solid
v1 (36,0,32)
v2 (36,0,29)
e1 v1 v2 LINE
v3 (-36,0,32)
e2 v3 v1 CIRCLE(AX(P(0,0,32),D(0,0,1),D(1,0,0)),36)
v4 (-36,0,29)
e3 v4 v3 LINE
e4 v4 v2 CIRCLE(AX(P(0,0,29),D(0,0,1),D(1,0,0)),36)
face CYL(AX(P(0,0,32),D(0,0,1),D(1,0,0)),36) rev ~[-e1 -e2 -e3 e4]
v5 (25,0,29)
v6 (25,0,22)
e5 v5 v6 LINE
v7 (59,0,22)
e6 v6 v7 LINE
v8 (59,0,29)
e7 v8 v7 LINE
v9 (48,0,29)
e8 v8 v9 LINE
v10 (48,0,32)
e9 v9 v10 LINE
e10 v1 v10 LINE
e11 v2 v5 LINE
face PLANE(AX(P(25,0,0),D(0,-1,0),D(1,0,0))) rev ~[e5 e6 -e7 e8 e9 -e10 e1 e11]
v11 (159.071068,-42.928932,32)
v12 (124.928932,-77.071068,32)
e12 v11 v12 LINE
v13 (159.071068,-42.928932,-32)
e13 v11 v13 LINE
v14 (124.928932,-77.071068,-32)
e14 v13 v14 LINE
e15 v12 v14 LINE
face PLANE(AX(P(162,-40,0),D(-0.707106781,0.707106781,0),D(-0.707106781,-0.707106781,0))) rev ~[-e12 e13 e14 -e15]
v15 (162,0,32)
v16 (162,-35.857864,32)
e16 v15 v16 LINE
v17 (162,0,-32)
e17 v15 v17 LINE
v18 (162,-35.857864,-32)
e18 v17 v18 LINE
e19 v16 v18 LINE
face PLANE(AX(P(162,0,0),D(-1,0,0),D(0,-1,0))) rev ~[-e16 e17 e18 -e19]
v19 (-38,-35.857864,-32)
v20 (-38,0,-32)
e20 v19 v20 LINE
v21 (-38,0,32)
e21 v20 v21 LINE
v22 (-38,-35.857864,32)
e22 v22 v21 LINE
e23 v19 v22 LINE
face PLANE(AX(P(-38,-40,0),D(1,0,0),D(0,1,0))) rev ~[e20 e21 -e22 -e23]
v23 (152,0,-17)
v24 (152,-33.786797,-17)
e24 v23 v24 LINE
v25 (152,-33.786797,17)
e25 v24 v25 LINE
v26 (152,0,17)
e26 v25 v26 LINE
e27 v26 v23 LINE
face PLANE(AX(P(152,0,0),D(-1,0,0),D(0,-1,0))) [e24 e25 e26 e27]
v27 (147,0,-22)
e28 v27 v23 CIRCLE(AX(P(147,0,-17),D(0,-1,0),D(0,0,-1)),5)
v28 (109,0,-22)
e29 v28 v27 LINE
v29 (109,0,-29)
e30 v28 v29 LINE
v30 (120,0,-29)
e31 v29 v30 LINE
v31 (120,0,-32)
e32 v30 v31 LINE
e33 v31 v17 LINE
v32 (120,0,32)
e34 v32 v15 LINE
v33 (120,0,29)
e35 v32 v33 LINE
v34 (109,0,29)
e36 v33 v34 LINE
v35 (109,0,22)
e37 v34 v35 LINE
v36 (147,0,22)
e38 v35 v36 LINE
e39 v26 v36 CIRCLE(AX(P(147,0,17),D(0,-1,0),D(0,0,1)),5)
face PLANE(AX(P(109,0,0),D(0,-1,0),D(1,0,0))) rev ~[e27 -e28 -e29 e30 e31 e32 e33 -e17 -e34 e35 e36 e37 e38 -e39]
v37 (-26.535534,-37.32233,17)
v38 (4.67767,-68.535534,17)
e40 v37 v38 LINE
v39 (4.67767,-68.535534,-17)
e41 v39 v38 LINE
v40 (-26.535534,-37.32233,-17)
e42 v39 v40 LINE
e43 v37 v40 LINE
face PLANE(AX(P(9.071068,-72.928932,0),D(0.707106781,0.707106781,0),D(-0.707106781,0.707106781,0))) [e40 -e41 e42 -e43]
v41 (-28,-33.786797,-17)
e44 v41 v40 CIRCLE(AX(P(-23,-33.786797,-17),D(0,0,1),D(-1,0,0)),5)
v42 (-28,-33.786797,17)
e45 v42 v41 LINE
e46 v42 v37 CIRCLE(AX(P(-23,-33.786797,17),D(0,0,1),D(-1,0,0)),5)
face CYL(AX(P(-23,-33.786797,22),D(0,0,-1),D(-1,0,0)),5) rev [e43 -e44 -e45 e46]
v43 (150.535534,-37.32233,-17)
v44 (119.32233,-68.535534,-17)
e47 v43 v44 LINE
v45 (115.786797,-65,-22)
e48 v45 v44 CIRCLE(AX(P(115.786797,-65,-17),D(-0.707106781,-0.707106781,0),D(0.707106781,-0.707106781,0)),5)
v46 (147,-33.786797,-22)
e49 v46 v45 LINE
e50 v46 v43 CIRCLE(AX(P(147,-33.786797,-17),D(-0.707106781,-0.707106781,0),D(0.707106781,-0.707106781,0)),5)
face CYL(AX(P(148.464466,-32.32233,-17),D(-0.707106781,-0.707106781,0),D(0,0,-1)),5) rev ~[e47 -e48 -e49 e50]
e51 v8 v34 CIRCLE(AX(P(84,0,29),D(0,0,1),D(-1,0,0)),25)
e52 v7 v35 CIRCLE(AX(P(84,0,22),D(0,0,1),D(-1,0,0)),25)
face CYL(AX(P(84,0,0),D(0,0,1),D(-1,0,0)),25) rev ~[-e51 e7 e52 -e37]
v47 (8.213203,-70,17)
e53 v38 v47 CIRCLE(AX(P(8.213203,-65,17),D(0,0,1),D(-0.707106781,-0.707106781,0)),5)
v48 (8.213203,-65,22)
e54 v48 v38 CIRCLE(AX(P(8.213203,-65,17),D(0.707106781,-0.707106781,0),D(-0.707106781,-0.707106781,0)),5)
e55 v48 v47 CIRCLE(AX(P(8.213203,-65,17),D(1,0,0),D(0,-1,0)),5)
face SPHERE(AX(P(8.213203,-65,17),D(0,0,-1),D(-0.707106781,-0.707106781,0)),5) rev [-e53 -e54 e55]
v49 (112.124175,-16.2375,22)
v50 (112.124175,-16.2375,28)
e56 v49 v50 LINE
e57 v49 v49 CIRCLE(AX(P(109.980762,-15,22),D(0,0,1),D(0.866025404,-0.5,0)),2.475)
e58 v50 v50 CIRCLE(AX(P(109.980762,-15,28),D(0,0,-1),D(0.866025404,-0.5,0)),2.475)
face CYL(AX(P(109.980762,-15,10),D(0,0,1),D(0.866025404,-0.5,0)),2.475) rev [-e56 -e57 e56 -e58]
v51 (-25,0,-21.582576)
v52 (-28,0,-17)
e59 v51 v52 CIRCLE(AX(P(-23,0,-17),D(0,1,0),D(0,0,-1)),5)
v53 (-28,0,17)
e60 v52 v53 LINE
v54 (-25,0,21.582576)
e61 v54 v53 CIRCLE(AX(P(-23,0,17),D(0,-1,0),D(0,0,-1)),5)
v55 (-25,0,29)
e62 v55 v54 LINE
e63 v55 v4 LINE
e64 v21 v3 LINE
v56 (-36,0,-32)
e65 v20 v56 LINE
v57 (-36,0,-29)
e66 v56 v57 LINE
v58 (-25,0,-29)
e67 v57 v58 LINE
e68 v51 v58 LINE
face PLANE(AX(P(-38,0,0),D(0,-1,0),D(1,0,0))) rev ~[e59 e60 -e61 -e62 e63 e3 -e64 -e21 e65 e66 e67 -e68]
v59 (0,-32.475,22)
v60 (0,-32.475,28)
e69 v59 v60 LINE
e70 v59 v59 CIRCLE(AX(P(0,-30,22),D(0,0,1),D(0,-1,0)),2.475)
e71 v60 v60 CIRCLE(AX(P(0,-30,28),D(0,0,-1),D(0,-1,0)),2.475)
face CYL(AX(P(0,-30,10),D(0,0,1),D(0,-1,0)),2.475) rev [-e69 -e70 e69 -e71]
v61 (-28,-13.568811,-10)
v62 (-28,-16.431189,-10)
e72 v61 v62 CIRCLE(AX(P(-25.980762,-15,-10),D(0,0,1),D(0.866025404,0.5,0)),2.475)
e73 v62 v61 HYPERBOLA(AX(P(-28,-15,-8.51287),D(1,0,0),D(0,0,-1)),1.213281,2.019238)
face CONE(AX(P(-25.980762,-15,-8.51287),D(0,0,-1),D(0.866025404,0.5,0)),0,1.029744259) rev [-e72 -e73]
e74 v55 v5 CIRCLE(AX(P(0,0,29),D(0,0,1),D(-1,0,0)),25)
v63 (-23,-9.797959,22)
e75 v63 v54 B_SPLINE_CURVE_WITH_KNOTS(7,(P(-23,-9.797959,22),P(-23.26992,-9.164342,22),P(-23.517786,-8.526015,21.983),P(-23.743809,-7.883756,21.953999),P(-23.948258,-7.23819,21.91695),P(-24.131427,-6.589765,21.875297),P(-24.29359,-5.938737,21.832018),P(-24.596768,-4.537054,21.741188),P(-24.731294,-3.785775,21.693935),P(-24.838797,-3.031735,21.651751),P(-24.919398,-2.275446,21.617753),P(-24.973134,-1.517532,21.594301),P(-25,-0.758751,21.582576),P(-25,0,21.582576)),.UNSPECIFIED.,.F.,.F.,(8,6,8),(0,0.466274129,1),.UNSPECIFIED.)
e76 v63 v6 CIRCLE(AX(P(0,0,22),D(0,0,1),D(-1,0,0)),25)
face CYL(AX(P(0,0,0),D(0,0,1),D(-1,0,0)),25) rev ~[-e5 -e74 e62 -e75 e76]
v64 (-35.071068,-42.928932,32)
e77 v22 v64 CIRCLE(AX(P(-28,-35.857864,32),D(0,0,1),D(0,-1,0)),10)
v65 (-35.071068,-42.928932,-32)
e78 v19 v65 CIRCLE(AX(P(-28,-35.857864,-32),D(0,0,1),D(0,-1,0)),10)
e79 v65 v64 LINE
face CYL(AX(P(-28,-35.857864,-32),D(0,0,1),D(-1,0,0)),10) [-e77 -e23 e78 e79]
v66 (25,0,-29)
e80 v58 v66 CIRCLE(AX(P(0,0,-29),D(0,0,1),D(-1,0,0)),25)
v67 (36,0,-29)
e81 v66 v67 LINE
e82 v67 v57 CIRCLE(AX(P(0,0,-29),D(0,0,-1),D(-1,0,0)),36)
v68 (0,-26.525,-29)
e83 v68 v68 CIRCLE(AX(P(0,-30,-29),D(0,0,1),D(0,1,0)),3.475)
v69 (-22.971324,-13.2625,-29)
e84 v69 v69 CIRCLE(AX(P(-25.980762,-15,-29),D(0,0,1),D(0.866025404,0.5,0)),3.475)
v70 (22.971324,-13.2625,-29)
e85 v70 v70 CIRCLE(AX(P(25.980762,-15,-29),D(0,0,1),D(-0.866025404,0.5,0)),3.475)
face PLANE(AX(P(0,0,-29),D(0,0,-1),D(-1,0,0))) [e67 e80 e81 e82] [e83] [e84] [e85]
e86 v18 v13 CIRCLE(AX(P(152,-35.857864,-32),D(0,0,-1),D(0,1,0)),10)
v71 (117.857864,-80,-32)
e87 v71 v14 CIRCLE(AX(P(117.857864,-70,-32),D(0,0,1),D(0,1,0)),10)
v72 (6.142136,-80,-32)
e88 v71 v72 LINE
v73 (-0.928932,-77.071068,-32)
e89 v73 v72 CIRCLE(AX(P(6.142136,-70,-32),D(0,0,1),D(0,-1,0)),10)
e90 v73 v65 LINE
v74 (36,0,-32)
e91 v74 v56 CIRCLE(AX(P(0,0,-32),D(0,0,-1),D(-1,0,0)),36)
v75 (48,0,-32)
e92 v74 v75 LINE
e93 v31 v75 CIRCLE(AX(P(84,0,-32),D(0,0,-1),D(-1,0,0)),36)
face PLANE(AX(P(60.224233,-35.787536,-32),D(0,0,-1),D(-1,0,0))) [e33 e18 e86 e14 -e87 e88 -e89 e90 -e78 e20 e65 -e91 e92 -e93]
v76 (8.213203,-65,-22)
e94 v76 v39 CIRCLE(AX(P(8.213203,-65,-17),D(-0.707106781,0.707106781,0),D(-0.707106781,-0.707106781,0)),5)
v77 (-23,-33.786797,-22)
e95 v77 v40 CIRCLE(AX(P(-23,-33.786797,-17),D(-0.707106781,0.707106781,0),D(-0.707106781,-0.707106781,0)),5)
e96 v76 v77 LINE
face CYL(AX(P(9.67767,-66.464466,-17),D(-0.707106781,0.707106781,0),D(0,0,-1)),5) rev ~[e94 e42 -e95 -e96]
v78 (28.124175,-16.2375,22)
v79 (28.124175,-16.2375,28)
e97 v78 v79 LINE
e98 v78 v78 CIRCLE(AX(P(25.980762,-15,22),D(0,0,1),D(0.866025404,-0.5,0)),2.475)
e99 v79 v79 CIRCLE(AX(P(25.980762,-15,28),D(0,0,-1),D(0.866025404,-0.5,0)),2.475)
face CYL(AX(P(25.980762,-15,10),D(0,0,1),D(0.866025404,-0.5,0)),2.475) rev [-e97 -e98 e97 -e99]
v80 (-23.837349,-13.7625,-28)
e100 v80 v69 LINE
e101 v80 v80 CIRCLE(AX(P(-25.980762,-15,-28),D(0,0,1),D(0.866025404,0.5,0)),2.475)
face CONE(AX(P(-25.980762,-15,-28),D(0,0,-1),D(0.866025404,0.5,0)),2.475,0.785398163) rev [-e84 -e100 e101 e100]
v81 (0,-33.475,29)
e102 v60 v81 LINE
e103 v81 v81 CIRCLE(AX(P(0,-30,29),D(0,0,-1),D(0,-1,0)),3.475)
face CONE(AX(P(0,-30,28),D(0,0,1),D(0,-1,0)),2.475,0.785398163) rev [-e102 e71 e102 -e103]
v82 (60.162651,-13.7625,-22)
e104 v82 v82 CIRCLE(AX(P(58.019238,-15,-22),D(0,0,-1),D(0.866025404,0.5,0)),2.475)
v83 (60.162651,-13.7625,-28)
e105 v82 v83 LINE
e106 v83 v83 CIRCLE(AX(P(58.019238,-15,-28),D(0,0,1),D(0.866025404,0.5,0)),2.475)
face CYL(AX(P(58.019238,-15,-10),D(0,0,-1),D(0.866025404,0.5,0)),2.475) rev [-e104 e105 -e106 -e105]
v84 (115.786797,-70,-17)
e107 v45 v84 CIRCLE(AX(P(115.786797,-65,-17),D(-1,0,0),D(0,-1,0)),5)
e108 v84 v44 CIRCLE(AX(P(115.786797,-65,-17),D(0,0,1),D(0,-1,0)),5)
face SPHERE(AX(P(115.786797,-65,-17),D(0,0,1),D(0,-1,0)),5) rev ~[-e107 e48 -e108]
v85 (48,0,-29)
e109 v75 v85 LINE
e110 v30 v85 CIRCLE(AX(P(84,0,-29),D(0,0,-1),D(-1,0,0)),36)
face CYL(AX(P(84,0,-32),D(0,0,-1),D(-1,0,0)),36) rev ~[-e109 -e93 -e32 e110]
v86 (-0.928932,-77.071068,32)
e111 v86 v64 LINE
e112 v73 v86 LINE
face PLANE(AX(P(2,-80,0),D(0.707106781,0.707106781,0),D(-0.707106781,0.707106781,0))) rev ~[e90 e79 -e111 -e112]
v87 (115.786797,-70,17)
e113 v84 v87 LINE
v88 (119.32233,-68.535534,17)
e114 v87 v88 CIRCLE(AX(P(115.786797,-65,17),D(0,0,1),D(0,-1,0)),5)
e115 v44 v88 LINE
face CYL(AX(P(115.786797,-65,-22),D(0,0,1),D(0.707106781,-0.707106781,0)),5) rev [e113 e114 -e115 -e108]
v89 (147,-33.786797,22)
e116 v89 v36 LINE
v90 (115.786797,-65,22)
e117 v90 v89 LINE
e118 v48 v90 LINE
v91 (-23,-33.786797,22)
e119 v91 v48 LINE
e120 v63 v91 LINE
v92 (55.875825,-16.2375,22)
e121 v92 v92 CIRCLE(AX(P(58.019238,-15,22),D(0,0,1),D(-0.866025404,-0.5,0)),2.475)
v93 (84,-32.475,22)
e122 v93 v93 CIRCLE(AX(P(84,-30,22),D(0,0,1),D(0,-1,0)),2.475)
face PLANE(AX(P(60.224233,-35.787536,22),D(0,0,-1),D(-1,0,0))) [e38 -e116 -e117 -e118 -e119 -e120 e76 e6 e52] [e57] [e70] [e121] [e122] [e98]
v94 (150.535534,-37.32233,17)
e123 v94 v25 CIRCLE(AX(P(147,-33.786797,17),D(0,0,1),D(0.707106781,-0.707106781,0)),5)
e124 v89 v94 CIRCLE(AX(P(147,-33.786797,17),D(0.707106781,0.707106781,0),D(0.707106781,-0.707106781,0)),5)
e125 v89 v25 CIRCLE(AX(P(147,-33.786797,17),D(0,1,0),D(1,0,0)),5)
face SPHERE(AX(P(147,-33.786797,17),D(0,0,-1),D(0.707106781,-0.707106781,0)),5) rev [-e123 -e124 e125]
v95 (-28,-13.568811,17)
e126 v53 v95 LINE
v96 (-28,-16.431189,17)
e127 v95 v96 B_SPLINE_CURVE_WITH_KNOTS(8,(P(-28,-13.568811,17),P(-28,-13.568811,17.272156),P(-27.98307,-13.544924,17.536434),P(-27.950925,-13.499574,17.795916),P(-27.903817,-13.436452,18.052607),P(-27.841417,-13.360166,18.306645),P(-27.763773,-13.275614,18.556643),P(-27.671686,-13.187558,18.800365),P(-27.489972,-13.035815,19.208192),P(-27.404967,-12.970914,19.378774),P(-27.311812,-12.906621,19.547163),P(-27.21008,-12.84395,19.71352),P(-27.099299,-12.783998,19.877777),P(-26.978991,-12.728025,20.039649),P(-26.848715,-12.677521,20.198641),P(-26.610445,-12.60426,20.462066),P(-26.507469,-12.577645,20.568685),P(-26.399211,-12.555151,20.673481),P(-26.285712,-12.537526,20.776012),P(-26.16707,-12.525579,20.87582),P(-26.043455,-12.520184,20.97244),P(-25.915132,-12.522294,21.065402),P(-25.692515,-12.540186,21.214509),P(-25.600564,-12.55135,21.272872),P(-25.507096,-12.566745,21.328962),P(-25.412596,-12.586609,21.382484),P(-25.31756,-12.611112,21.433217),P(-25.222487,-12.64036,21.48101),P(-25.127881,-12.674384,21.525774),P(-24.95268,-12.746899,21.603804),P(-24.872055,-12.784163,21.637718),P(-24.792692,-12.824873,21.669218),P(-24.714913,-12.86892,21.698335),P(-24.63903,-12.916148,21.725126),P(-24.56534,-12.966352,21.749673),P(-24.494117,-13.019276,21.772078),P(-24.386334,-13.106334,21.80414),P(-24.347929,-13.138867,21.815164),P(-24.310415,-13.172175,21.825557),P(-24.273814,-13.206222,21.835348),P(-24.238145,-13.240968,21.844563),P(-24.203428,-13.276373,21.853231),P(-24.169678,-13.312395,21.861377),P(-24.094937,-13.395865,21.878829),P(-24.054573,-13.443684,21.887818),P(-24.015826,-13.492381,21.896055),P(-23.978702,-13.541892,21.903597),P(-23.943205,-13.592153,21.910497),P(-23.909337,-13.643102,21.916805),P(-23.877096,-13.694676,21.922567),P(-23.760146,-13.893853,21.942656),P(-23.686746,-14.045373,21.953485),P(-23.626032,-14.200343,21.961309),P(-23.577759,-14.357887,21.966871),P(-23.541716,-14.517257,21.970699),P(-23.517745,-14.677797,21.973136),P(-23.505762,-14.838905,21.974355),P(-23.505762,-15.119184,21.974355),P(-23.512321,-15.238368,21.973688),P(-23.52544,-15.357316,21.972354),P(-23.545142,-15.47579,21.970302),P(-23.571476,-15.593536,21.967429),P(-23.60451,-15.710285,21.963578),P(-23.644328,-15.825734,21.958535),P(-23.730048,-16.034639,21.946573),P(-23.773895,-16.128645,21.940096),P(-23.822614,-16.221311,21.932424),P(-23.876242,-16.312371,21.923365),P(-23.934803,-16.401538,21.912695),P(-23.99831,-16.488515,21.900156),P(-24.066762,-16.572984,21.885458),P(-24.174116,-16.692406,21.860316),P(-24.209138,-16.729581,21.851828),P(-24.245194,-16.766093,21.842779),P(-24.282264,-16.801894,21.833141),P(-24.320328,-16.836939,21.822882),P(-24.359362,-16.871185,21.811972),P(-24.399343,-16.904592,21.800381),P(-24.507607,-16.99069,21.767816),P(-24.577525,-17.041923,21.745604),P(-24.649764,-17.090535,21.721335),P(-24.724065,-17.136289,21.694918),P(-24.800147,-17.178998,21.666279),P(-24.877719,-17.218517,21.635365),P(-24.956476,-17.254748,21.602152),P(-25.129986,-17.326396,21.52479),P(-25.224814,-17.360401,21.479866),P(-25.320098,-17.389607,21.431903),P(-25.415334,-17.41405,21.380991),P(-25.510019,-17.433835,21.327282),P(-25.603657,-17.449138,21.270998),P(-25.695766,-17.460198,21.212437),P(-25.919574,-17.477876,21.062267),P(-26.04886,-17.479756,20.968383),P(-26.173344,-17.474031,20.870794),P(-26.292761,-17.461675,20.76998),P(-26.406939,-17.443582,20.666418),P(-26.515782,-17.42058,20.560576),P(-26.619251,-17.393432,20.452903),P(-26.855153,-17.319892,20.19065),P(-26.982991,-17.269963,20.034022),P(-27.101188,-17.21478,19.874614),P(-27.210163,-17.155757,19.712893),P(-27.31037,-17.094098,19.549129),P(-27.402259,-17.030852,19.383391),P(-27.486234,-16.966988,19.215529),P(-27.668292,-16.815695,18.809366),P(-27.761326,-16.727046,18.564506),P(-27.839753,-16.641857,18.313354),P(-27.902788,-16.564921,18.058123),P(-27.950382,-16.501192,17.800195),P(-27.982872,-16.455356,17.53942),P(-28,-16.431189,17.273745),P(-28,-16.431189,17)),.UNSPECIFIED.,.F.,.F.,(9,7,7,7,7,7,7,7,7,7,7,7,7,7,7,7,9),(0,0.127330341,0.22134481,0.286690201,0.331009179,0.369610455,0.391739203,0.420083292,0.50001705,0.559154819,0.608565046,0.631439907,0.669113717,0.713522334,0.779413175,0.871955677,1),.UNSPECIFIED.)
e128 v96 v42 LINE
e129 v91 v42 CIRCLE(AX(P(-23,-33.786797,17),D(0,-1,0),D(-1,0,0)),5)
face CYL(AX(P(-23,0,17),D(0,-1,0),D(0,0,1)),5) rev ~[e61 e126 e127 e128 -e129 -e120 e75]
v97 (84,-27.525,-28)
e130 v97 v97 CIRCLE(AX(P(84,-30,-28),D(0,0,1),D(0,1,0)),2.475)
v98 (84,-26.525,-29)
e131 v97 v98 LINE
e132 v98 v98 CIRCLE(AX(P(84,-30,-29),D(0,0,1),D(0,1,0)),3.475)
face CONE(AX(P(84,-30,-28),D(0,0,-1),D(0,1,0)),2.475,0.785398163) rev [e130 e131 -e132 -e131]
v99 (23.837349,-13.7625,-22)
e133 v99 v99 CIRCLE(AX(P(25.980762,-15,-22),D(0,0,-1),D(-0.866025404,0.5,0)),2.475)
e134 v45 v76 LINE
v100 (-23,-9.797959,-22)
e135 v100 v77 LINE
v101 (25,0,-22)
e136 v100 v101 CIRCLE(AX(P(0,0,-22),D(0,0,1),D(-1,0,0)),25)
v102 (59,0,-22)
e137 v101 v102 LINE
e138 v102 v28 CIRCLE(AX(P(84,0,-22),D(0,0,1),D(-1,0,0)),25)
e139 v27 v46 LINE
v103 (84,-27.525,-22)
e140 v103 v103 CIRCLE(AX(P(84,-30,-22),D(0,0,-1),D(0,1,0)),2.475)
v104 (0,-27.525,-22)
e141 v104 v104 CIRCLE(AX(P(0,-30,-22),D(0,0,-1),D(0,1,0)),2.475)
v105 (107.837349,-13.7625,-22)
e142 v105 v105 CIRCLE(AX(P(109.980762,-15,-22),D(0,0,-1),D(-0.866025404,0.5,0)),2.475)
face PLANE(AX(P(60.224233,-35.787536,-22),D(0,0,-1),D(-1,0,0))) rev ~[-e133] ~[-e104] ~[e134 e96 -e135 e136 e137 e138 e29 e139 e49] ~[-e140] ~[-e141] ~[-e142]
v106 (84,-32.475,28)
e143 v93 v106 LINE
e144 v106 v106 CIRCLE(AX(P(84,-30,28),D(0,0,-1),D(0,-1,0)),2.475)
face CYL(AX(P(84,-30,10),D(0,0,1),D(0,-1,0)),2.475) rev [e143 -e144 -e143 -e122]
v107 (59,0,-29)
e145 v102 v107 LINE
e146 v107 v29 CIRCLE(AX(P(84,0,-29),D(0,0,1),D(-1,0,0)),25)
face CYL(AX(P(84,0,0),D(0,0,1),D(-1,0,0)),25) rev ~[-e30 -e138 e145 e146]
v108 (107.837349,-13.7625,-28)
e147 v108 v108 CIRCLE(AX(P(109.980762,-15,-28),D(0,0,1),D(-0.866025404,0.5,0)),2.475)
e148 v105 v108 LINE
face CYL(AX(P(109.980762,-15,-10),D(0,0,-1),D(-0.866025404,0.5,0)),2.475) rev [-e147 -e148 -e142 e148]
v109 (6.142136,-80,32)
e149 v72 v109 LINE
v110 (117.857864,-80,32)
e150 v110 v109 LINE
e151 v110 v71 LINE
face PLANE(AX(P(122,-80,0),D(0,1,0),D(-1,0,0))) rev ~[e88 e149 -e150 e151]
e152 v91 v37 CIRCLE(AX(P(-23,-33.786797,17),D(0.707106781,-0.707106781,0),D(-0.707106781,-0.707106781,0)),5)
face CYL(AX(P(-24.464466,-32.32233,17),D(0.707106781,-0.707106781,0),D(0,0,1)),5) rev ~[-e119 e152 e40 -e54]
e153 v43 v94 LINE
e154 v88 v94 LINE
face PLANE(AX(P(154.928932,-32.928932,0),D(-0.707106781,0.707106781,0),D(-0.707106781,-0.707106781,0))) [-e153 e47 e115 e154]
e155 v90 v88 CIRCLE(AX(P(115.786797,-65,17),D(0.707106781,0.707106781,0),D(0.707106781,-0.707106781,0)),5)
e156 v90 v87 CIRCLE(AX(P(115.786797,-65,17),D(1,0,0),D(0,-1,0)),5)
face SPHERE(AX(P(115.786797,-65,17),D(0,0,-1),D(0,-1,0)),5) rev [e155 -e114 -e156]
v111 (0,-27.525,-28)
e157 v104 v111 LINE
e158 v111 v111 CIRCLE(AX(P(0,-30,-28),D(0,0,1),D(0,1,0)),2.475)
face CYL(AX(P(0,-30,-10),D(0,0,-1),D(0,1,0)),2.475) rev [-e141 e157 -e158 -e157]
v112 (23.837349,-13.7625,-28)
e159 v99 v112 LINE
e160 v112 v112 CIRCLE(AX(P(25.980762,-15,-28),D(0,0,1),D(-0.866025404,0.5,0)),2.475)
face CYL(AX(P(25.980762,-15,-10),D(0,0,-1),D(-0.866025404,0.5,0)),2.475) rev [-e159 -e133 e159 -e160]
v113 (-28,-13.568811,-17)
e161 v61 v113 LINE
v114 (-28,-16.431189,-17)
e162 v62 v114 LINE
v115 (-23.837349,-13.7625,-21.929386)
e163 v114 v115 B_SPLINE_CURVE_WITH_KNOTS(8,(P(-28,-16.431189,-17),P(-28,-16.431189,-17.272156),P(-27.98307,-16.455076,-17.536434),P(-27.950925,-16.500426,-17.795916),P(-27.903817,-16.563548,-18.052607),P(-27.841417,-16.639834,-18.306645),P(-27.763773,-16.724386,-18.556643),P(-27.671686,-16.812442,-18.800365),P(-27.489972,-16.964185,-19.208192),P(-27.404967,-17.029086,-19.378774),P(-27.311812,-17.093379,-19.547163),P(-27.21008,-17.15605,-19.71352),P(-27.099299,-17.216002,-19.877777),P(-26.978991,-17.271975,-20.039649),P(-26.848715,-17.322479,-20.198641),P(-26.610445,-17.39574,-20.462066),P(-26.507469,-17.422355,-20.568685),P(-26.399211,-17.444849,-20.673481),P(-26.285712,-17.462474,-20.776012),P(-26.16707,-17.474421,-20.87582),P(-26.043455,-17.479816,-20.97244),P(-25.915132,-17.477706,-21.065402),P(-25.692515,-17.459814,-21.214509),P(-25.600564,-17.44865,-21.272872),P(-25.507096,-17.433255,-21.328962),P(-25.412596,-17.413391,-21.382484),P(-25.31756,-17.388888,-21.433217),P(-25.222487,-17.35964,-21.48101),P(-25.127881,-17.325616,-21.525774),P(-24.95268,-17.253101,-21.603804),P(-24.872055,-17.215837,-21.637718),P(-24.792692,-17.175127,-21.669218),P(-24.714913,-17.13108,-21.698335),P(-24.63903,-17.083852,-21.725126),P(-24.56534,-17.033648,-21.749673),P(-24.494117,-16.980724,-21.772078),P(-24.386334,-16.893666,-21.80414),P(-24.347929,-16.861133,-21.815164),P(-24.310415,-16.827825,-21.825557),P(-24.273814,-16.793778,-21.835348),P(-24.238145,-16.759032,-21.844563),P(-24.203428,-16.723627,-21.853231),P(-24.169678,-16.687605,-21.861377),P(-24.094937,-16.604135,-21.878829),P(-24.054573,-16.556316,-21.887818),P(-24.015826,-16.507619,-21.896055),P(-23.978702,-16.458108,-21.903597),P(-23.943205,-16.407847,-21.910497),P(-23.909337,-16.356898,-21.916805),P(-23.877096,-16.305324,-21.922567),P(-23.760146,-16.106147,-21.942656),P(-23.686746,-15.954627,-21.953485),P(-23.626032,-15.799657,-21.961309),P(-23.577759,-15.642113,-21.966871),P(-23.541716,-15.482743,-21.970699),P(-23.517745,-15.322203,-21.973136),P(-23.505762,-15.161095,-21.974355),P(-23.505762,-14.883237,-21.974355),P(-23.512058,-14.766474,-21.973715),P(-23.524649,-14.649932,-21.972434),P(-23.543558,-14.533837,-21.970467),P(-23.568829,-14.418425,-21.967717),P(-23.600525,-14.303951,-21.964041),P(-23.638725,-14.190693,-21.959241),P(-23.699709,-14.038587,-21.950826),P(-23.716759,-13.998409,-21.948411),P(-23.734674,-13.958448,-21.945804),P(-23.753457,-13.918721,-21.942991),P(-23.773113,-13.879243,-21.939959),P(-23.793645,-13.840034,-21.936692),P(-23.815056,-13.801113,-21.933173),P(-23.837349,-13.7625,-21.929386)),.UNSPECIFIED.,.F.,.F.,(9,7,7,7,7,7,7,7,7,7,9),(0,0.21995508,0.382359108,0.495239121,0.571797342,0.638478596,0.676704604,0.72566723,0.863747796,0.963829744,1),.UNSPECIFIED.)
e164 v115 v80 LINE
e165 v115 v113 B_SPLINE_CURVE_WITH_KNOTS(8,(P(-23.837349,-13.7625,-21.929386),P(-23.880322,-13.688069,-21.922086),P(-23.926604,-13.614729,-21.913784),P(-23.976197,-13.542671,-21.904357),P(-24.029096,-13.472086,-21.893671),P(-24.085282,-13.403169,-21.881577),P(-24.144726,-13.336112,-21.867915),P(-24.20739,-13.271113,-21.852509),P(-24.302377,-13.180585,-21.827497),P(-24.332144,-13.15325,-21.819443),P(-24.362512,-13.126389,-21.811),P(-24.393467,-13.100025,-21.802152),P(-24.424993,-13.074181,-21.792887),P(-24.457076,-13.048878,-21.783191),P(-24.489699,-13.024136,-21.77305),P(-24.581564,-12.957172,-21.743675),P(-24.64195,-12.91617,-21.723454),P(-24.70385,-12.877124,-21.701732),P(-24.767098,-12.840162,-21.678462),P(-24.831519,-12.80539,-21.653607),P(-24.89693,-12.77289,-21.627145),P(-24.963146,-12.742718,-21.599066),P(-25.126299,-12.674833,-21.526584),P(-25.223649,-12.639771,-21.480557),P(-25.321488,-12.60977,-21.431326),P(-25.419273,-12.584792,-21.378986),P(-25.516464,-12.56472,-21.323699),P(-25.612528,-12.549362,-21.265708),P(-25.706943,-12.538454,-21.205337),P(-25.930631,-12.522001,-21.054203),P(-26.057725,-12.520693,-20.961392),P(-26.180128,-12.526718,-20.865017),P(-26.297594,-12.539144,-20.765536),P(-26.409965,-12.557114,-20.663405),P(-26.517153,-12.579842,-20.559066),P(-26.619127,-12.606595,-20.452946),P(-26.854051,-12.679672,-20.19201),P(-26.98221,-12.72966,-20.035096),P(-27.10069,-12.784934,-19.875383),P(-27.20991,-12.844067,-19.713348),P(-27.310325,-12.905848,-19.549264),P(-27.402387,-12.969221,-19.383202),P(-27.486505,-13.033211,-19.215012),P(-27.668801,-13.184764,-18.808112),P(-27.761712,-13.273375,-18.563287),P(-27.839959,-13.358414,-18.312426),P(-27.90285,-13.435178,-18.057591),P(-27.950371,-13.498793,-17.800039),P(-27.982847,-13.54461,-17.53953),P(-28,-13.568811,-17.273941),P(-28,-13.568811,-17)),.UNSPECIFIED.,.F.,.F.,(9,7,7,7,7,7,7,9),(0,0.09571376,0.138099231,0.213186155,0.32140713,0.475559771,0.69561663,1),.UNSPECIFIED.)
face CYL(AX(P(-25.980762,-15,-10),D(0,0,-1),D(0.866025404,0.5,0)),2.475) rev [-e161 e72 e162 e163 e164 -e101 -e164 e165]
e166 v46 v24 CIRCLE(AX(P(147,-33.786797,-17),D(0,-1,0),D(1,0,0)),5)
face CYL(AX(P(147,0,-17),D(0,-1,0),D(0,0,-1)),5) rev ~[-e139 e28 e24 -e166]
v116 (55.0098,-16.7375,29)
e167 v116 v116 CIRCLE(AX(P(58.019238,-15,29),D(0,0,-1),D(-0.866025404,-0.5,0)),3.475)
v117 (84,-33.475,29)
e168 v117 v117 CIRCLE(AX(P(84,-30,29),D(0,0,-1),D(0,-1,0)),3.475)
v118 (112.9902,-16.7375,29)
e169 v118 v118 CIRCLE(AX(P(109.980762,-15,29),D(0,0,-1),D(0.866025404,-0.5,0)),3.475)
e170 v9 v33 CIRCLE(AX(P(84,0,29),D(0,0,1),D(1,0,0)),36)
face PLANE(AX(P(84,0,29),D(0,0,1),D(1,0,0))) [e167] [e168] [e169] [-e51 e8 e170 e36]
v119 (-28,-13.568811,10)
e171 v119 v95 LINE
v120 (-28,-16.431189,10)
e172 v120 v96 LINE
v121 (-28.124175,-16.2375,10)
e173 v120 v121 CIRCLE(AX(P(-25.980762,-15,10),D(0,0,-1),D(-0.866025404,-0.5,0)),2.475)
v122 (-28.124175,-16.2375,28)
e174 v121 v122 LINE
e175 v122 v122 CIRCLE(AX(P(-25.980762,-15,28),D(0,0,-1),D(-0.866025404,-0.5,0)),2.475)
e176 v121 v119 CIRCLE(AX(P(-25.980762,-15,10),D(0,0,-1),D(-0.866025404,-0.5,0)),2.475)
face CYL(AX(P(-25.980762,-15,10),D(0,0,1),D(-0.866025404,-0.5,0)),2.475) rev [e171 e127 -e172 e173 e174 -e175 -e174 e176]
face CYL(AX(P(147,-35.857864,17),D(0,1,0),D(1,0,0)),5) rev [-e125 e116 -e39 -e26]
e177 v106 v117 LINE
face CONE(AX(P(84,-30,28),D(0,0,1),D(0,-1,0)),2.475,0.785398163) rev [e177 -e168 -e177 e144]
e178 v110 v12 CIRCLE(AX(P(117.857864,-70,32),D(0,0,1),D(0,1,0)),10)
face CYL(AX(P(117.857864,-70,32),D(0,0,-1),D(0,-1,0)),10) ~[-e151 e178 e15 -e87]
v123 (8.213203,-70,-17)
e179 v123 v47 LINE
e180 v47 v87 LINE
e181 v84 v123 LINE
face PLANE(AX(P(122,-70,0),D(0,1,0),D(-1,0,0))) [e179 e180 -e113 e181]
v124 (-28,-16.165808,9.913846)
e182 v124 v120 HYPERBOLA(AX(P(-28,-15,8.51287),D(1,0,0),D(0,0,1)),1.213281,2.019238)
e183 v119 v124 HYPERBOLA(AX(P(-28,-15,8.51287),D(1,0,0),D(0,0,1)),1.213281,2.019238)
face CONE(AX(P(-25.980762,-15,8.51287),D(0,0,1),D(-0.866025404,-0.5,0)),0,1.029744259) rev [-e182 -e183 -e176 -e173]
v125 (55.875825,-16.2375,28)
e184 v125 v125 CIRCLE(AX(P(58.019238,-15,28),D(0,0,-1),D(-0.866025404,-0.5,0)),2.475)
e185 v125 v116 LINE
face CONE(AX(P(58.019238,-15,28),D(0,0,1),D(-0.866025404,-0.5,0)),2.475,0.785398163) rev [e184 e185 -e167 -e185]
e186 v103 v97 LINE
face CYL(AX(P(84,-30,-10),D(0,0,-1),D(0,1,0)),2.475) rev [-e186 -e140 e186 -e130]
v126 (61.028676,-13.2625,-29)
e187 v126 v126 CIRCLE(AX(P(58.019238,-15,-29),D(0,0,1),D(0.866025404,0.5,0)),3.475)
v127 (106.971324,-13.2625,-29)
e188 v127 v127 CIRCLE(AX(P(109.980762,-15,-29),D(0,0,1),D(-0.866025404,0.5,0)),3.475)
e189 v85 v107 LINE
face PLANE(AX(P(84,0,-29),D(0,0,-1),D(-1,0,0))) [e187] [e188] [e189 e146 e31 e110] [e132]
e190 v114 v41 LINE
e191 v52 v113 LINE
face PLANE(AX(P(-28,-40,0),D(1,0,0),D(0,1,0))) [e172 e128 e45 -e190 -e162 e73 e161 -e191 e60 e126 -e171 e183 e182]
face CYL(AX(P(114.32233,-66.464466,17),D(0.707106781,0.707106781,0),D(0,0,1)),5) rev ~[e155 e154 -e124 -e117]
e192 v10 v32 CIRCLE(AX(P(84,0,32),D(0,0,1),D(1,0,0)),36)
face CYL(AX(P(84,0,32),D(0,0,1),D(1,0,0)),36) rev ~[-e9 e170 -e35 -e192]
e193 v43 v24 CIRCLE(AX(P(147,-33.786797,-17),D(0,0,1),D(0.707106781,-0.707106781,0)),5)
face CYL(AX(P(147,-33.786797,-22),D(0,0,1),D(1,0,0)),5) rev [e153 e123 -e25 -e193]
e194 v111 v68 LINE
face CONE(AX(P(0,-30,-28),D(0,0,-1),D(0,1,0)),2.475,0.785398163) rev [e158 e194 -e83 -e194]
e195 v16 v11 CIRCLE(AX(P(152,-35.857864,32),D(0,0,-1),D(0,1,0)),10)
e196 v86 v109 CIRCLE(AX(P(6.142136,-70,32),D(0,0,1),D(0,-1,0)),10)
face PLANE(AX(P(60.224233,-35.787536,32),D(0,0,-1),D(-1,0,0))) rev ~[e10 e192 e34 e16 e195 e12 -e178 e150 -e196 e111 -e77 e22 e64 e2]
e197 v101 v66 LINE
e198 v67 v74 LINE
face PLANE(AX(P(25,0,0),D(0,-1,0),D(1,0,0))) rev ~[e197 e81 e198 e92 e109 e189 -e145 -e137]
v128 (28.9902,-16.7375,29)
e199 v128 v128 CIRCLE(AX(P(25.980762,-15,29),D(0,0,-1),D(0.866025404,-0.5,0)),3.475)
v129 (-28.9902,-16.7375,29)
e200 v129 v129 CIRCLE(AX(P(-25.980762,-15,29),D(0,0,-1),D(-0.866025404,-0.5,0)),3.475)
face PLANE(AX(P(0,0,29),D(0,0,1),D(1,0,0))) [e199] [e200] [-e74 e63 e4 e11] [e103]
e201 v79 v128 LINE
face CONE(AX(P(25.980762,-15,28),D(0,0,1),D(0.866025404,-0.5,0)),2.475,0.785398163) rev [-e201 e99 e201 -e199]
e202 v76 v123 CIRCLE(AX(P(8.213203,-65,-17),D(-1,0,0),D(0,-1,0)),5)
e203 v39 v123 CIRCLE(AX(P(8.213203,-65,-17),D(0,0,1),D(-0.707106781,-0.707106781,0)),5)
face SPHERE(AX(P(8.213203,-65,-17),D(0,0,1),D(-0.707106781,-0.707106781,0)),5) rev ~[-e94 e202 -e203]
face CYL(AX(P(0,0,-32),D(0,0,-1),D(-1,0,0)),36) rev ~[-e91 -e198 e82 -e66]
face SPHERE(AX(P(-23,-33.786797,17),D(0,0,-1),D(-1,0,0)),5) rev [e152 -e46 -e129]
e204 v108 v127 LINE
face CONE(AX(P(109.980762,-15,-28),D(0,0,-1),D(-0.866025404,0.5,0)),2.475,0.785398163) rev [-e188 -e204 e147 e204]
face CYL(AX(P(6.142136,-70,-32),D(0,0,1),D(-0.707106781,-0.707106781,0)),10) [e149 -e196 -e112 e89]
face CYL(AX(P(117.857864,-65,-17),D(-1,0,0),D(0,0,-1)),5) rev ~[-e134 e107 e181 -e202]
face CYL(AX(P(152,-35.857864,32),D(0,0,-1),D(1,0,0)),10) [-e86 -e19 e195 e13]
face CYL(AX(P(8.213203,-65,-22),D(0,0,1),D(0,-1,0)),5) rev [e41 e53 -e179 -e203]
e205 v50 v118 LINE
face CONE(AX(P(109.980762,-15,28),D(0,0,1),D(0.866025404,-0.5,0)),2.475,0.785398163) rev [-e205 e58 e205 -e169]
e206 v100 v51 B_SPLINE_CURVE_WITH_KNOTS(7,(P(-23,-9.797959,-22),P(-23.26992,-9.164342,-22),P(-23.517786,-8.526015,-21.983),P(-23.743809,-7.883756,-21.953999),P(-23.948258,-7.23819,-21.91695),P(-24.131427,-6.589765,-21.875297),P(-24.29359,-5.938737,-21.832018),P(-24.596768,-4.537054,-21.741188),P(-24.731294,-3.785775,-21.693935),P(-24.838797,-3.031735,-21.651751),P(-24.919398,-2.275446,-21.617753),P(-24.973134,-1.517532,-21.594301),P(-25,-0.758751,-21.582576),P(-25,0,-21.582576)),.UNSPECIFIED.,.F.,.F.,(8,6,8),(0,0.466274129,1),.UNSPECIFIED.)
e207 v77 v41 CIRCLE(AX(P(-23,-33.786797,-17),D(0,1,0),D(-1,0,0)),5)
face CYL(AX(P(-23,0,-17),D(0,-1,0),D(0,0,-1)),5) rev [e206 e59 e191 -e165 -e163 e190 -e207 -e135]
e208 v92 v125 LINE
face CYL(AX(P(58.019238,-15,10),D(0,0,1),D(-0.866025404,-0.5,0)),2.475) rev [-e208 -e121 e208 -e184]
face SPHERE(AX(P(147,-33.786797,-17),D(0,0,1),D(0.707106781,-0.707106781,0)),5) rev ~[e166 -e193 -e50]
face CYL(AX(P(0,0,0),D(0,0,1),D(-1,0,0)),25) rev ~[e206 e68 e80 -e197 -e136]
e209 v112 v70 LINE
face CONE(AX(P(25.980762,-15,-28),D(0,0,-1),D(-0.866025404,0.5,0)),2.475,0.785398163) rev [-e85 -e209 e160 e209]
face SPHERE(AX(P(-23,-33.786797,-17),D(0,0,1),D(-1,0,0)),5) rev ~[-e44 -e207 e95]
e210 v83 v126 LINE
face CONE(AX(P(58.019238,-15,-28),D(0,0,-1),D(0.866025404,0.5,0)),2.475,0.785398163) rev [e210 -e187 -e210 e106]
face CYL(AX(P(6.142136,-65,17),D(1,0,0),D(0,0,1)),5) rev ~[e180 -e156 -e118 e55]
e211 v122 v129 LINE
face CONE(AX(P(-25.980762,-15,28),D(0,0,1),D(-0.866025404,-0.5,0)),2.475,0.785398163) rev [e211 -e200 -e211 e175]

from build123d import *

# Parameters (mm, degrees)
EXTRUDE_1_DEPTH          = 32
SHELL_1_T                = -10
SKETCH_2_R               = 36
CUT_EXTRUDE_1_DEPTH      = 3
SKETCH_3_R               = 36
CUT_EXTRUDE_2_DEPTH      = 3
FILLET_1_R               = 5
FILLET_2_R               = 10
PATTERN_CIRCULAR_1_COUNT = 6
PATTERN_CIRCULAR_2_COUNT = 6


with BuildPart() as part:
    # Эскиз1 → Бобышка-Вытянуть1 (new body, symmetric)
    with BuildSketch(Plane.XY):
        with BuildLine():
            Line((-38, 0), (-25, 0))
            ThreePointArc((-25, 0), (0, -25), (25, 0))
            Line((25, 0), (59, 0))
            ThreePointArc((59, 0), (84, -25), (109, 0))
            Line((109, 0), (162, 0))
            Line((162, 0), (162, -40))
            Line((162, -40), (122, -80))
            Line((122, -80), (2, -80))
            Line((2, -80), (-38, -40))
            Line((-38, -40), (-38, 0))
        make_face()
    extrude(amount=EXTRUDE_1_DEPTH, both=True)

    # Оболочка1
    shell_1_openings = [part.faces().sort_by_distance(p)[0] for p in [
        (-31.5, 0, 0),
        (0, -12.5, 0),
        (42, 0, 0),
        (84, -12.5, 0),
        (135.5, 0, 0),
    ]]
    offset(amount=SHELL_1_T, openings=shell_1_openings, kind=Kind.INTERSECTION)

    # Эскиз2 → Вырез-Вытянуть1 (cut)
    with BuildSketch(Plane.XY.offset(32)):
        Circle(SKETCH_2_R)
        with Locations((84, 0)):
            Circle(SKETCH_2_R)
    extrude(amount=-CUT_EXTRUDE_1_DEPTH, mode=Mode.SUBTRACT)

    # Эскиз3 → Вырез-Вытянуть2 (cut)
    with BuildSketch(Plane(origin=(0, 0, -32), x_dir=(-1, 0, 0), z_dir=(0, 0, -1))):
        Circle(SKETCH_3_R)
        with Locations((-84, 0)):
            Circle(SKETCH_3_R)
    extrude(amount=-CUT_EXTRUDE_2_DEPTH, mode=Mode.SUBTRACT)

    # Скругление1
    fillet_1_edges = [part.edges().sort_by_distance(p)[0] for p in [
        (-28, -17.928932188, -22),
        (-10.928932188, -52.928932188, -22),
        (-28, -35.857864376, 0),
        (62, -70, -22),
        (6.142135624, -70, 0),
        (134.928932188, -52.928932188, -22),
        (117.857864376, -70, 0),
        (152, -17.928932188, -22),
        (152, -35.857864376, 0),
        (-28, -17.928932188, 22),
        (-10.928932188, -52.928932188, 22),
        (62, -70, 22),
        (134.928932188, -52.928932188, 22),
        (152, -17.928932188, 22),
    ]]
    fillet(fillet_1_edges, radius=FILLET_1_R)

    # Скругление2
    fillet_2_edges = [part.edges().sort_by_distance(p)[0] for p in [
        (162, -40, 0),
        (122, -80, 0),
        (2, -80, 0),
        (-38, -40, 0),
    ]]
    fillet(fillet_2_edges, radius=FILLET_2_R)

    # Эскиз6 → Отверстие обработанное метчиком M61 (revolve, cut)
    with BuildSketch(Plane(origin=(0, -30, 29), x_dir=(0, -1, 0), z_dir=(1, 0, 0))):
        Polygon((0, 0), (0, 20.487130032), (2.475, 19), (2.475, 1), (3.475, 0), align=None)
    hole_wizard_m61 = revolve(axis=Axis((0, -30, 35.35), (0, 0, -1)), mode=Mode.SUBTRACT)

    # Эскиз8 → Отверстие обработанное метчиком M62 (revolve, cut)
    with BuildSketch(Plane(origin=(0, -30, -29), x_dir=(0, 1, 0), z_dir=(1, 0, 0))):
        Polygon((0, 0), (0, 20.487130032), (2.475, 19), (2.475, 1), (3.475, 0), align=None)
    hole_wizard_m62 = revolve(axis=Axis((0, -30, -35.35), (0, 0, 1)), mode=Mode.SUBTRACT)

    # Круговой массив1: Отверстие обработанное метчиком M61, Отверстие обработанное метчиком M62 ×6 about axis, 3 skipped
    pattern_circular_1_axis = Axis((0, 0, 0), (0, 0, 1))
    add([hole_wizard_m61.rotate(pattern_circular_1_axis, i * 360 / PATTERN_CIRCULAR_1_COUNT) for i in range(1, PATTERN_CIRCULAR_1_COUNT) if i not in (2, 3, 4)], mode=Mode.SUBTRACT)
    add([hole_wizard_m62.rotate(pattern_circular_1_axis, i * 360 / PATTERN_CIRCULAR_1_COUNT) for i in range(1, PATTERN_CIRCULAR_1_COUNT) if i not in (2, 3, 4)], mode=Mode.SUBTRACT)

    # Эскиз10 → Отверстие обработанное метчиком M63 (revolve, cut)
    with BuildSketch(Plane(origin=(84, -30, 29), x_dir=(0, -1, 0), z_dir=(1, 0, 0))):
        Polygon((0, 0), (0, 20.487130032), (2.475, 19), (2.475, 1), (3.475, 0), align=None)
    hole_wizard_m63 = revolve(axis=Axis((84, -30, 35.35), (0, 0, -1)), mode=Mode.SUBTRACT)

    # Эскиз12 → Отверстие обработанное метчиком M64 (revolve, cut)
    with BuildSketch(Plane(origin=(84, -30, -29), x_dir=(0, 1, 0), z_dir=(1, 0, 0))):
        Polygon((0, 0), (0, 20.487130032), (2.475, 19), (2.475, 1), (3.475, 0), align=None)
    hole_wizard_m64 = revolve(axis=Axis((84, -30, -35.35), (0, 0, 1)), mode=Mode.SUBTRACT)

    # Круговой массив2: Отверстие обработанное метчиком M63, Отверстие обработанное метчиком M64 ×6 about axis, 3 skipped
    pattern_circular_2_axis = Axis((84, 0, 0), (0, 0, -1))
    add([hole_wizard_m63.rotate(pattern_circular_2_axis, i * 360 / PATTERN_CIRCULAR_2_COUNT) for i in range(1, PATTERN_CIRCULAR_2_COUNT) if i not in (2, 3, 4)], mode=Mode.SUBTRACT)
    add([hole_wizard_m64.rotate(pattern_circular_2_axis, i * 360 / PATTERN_CIRCULAR_2_COUNT) for i in range(1, PATTERN_CIRCULAR_2_COUNT) if i not in (2, 3, 4)], mode=Mode.SUBTRACT)


solid = part.part
